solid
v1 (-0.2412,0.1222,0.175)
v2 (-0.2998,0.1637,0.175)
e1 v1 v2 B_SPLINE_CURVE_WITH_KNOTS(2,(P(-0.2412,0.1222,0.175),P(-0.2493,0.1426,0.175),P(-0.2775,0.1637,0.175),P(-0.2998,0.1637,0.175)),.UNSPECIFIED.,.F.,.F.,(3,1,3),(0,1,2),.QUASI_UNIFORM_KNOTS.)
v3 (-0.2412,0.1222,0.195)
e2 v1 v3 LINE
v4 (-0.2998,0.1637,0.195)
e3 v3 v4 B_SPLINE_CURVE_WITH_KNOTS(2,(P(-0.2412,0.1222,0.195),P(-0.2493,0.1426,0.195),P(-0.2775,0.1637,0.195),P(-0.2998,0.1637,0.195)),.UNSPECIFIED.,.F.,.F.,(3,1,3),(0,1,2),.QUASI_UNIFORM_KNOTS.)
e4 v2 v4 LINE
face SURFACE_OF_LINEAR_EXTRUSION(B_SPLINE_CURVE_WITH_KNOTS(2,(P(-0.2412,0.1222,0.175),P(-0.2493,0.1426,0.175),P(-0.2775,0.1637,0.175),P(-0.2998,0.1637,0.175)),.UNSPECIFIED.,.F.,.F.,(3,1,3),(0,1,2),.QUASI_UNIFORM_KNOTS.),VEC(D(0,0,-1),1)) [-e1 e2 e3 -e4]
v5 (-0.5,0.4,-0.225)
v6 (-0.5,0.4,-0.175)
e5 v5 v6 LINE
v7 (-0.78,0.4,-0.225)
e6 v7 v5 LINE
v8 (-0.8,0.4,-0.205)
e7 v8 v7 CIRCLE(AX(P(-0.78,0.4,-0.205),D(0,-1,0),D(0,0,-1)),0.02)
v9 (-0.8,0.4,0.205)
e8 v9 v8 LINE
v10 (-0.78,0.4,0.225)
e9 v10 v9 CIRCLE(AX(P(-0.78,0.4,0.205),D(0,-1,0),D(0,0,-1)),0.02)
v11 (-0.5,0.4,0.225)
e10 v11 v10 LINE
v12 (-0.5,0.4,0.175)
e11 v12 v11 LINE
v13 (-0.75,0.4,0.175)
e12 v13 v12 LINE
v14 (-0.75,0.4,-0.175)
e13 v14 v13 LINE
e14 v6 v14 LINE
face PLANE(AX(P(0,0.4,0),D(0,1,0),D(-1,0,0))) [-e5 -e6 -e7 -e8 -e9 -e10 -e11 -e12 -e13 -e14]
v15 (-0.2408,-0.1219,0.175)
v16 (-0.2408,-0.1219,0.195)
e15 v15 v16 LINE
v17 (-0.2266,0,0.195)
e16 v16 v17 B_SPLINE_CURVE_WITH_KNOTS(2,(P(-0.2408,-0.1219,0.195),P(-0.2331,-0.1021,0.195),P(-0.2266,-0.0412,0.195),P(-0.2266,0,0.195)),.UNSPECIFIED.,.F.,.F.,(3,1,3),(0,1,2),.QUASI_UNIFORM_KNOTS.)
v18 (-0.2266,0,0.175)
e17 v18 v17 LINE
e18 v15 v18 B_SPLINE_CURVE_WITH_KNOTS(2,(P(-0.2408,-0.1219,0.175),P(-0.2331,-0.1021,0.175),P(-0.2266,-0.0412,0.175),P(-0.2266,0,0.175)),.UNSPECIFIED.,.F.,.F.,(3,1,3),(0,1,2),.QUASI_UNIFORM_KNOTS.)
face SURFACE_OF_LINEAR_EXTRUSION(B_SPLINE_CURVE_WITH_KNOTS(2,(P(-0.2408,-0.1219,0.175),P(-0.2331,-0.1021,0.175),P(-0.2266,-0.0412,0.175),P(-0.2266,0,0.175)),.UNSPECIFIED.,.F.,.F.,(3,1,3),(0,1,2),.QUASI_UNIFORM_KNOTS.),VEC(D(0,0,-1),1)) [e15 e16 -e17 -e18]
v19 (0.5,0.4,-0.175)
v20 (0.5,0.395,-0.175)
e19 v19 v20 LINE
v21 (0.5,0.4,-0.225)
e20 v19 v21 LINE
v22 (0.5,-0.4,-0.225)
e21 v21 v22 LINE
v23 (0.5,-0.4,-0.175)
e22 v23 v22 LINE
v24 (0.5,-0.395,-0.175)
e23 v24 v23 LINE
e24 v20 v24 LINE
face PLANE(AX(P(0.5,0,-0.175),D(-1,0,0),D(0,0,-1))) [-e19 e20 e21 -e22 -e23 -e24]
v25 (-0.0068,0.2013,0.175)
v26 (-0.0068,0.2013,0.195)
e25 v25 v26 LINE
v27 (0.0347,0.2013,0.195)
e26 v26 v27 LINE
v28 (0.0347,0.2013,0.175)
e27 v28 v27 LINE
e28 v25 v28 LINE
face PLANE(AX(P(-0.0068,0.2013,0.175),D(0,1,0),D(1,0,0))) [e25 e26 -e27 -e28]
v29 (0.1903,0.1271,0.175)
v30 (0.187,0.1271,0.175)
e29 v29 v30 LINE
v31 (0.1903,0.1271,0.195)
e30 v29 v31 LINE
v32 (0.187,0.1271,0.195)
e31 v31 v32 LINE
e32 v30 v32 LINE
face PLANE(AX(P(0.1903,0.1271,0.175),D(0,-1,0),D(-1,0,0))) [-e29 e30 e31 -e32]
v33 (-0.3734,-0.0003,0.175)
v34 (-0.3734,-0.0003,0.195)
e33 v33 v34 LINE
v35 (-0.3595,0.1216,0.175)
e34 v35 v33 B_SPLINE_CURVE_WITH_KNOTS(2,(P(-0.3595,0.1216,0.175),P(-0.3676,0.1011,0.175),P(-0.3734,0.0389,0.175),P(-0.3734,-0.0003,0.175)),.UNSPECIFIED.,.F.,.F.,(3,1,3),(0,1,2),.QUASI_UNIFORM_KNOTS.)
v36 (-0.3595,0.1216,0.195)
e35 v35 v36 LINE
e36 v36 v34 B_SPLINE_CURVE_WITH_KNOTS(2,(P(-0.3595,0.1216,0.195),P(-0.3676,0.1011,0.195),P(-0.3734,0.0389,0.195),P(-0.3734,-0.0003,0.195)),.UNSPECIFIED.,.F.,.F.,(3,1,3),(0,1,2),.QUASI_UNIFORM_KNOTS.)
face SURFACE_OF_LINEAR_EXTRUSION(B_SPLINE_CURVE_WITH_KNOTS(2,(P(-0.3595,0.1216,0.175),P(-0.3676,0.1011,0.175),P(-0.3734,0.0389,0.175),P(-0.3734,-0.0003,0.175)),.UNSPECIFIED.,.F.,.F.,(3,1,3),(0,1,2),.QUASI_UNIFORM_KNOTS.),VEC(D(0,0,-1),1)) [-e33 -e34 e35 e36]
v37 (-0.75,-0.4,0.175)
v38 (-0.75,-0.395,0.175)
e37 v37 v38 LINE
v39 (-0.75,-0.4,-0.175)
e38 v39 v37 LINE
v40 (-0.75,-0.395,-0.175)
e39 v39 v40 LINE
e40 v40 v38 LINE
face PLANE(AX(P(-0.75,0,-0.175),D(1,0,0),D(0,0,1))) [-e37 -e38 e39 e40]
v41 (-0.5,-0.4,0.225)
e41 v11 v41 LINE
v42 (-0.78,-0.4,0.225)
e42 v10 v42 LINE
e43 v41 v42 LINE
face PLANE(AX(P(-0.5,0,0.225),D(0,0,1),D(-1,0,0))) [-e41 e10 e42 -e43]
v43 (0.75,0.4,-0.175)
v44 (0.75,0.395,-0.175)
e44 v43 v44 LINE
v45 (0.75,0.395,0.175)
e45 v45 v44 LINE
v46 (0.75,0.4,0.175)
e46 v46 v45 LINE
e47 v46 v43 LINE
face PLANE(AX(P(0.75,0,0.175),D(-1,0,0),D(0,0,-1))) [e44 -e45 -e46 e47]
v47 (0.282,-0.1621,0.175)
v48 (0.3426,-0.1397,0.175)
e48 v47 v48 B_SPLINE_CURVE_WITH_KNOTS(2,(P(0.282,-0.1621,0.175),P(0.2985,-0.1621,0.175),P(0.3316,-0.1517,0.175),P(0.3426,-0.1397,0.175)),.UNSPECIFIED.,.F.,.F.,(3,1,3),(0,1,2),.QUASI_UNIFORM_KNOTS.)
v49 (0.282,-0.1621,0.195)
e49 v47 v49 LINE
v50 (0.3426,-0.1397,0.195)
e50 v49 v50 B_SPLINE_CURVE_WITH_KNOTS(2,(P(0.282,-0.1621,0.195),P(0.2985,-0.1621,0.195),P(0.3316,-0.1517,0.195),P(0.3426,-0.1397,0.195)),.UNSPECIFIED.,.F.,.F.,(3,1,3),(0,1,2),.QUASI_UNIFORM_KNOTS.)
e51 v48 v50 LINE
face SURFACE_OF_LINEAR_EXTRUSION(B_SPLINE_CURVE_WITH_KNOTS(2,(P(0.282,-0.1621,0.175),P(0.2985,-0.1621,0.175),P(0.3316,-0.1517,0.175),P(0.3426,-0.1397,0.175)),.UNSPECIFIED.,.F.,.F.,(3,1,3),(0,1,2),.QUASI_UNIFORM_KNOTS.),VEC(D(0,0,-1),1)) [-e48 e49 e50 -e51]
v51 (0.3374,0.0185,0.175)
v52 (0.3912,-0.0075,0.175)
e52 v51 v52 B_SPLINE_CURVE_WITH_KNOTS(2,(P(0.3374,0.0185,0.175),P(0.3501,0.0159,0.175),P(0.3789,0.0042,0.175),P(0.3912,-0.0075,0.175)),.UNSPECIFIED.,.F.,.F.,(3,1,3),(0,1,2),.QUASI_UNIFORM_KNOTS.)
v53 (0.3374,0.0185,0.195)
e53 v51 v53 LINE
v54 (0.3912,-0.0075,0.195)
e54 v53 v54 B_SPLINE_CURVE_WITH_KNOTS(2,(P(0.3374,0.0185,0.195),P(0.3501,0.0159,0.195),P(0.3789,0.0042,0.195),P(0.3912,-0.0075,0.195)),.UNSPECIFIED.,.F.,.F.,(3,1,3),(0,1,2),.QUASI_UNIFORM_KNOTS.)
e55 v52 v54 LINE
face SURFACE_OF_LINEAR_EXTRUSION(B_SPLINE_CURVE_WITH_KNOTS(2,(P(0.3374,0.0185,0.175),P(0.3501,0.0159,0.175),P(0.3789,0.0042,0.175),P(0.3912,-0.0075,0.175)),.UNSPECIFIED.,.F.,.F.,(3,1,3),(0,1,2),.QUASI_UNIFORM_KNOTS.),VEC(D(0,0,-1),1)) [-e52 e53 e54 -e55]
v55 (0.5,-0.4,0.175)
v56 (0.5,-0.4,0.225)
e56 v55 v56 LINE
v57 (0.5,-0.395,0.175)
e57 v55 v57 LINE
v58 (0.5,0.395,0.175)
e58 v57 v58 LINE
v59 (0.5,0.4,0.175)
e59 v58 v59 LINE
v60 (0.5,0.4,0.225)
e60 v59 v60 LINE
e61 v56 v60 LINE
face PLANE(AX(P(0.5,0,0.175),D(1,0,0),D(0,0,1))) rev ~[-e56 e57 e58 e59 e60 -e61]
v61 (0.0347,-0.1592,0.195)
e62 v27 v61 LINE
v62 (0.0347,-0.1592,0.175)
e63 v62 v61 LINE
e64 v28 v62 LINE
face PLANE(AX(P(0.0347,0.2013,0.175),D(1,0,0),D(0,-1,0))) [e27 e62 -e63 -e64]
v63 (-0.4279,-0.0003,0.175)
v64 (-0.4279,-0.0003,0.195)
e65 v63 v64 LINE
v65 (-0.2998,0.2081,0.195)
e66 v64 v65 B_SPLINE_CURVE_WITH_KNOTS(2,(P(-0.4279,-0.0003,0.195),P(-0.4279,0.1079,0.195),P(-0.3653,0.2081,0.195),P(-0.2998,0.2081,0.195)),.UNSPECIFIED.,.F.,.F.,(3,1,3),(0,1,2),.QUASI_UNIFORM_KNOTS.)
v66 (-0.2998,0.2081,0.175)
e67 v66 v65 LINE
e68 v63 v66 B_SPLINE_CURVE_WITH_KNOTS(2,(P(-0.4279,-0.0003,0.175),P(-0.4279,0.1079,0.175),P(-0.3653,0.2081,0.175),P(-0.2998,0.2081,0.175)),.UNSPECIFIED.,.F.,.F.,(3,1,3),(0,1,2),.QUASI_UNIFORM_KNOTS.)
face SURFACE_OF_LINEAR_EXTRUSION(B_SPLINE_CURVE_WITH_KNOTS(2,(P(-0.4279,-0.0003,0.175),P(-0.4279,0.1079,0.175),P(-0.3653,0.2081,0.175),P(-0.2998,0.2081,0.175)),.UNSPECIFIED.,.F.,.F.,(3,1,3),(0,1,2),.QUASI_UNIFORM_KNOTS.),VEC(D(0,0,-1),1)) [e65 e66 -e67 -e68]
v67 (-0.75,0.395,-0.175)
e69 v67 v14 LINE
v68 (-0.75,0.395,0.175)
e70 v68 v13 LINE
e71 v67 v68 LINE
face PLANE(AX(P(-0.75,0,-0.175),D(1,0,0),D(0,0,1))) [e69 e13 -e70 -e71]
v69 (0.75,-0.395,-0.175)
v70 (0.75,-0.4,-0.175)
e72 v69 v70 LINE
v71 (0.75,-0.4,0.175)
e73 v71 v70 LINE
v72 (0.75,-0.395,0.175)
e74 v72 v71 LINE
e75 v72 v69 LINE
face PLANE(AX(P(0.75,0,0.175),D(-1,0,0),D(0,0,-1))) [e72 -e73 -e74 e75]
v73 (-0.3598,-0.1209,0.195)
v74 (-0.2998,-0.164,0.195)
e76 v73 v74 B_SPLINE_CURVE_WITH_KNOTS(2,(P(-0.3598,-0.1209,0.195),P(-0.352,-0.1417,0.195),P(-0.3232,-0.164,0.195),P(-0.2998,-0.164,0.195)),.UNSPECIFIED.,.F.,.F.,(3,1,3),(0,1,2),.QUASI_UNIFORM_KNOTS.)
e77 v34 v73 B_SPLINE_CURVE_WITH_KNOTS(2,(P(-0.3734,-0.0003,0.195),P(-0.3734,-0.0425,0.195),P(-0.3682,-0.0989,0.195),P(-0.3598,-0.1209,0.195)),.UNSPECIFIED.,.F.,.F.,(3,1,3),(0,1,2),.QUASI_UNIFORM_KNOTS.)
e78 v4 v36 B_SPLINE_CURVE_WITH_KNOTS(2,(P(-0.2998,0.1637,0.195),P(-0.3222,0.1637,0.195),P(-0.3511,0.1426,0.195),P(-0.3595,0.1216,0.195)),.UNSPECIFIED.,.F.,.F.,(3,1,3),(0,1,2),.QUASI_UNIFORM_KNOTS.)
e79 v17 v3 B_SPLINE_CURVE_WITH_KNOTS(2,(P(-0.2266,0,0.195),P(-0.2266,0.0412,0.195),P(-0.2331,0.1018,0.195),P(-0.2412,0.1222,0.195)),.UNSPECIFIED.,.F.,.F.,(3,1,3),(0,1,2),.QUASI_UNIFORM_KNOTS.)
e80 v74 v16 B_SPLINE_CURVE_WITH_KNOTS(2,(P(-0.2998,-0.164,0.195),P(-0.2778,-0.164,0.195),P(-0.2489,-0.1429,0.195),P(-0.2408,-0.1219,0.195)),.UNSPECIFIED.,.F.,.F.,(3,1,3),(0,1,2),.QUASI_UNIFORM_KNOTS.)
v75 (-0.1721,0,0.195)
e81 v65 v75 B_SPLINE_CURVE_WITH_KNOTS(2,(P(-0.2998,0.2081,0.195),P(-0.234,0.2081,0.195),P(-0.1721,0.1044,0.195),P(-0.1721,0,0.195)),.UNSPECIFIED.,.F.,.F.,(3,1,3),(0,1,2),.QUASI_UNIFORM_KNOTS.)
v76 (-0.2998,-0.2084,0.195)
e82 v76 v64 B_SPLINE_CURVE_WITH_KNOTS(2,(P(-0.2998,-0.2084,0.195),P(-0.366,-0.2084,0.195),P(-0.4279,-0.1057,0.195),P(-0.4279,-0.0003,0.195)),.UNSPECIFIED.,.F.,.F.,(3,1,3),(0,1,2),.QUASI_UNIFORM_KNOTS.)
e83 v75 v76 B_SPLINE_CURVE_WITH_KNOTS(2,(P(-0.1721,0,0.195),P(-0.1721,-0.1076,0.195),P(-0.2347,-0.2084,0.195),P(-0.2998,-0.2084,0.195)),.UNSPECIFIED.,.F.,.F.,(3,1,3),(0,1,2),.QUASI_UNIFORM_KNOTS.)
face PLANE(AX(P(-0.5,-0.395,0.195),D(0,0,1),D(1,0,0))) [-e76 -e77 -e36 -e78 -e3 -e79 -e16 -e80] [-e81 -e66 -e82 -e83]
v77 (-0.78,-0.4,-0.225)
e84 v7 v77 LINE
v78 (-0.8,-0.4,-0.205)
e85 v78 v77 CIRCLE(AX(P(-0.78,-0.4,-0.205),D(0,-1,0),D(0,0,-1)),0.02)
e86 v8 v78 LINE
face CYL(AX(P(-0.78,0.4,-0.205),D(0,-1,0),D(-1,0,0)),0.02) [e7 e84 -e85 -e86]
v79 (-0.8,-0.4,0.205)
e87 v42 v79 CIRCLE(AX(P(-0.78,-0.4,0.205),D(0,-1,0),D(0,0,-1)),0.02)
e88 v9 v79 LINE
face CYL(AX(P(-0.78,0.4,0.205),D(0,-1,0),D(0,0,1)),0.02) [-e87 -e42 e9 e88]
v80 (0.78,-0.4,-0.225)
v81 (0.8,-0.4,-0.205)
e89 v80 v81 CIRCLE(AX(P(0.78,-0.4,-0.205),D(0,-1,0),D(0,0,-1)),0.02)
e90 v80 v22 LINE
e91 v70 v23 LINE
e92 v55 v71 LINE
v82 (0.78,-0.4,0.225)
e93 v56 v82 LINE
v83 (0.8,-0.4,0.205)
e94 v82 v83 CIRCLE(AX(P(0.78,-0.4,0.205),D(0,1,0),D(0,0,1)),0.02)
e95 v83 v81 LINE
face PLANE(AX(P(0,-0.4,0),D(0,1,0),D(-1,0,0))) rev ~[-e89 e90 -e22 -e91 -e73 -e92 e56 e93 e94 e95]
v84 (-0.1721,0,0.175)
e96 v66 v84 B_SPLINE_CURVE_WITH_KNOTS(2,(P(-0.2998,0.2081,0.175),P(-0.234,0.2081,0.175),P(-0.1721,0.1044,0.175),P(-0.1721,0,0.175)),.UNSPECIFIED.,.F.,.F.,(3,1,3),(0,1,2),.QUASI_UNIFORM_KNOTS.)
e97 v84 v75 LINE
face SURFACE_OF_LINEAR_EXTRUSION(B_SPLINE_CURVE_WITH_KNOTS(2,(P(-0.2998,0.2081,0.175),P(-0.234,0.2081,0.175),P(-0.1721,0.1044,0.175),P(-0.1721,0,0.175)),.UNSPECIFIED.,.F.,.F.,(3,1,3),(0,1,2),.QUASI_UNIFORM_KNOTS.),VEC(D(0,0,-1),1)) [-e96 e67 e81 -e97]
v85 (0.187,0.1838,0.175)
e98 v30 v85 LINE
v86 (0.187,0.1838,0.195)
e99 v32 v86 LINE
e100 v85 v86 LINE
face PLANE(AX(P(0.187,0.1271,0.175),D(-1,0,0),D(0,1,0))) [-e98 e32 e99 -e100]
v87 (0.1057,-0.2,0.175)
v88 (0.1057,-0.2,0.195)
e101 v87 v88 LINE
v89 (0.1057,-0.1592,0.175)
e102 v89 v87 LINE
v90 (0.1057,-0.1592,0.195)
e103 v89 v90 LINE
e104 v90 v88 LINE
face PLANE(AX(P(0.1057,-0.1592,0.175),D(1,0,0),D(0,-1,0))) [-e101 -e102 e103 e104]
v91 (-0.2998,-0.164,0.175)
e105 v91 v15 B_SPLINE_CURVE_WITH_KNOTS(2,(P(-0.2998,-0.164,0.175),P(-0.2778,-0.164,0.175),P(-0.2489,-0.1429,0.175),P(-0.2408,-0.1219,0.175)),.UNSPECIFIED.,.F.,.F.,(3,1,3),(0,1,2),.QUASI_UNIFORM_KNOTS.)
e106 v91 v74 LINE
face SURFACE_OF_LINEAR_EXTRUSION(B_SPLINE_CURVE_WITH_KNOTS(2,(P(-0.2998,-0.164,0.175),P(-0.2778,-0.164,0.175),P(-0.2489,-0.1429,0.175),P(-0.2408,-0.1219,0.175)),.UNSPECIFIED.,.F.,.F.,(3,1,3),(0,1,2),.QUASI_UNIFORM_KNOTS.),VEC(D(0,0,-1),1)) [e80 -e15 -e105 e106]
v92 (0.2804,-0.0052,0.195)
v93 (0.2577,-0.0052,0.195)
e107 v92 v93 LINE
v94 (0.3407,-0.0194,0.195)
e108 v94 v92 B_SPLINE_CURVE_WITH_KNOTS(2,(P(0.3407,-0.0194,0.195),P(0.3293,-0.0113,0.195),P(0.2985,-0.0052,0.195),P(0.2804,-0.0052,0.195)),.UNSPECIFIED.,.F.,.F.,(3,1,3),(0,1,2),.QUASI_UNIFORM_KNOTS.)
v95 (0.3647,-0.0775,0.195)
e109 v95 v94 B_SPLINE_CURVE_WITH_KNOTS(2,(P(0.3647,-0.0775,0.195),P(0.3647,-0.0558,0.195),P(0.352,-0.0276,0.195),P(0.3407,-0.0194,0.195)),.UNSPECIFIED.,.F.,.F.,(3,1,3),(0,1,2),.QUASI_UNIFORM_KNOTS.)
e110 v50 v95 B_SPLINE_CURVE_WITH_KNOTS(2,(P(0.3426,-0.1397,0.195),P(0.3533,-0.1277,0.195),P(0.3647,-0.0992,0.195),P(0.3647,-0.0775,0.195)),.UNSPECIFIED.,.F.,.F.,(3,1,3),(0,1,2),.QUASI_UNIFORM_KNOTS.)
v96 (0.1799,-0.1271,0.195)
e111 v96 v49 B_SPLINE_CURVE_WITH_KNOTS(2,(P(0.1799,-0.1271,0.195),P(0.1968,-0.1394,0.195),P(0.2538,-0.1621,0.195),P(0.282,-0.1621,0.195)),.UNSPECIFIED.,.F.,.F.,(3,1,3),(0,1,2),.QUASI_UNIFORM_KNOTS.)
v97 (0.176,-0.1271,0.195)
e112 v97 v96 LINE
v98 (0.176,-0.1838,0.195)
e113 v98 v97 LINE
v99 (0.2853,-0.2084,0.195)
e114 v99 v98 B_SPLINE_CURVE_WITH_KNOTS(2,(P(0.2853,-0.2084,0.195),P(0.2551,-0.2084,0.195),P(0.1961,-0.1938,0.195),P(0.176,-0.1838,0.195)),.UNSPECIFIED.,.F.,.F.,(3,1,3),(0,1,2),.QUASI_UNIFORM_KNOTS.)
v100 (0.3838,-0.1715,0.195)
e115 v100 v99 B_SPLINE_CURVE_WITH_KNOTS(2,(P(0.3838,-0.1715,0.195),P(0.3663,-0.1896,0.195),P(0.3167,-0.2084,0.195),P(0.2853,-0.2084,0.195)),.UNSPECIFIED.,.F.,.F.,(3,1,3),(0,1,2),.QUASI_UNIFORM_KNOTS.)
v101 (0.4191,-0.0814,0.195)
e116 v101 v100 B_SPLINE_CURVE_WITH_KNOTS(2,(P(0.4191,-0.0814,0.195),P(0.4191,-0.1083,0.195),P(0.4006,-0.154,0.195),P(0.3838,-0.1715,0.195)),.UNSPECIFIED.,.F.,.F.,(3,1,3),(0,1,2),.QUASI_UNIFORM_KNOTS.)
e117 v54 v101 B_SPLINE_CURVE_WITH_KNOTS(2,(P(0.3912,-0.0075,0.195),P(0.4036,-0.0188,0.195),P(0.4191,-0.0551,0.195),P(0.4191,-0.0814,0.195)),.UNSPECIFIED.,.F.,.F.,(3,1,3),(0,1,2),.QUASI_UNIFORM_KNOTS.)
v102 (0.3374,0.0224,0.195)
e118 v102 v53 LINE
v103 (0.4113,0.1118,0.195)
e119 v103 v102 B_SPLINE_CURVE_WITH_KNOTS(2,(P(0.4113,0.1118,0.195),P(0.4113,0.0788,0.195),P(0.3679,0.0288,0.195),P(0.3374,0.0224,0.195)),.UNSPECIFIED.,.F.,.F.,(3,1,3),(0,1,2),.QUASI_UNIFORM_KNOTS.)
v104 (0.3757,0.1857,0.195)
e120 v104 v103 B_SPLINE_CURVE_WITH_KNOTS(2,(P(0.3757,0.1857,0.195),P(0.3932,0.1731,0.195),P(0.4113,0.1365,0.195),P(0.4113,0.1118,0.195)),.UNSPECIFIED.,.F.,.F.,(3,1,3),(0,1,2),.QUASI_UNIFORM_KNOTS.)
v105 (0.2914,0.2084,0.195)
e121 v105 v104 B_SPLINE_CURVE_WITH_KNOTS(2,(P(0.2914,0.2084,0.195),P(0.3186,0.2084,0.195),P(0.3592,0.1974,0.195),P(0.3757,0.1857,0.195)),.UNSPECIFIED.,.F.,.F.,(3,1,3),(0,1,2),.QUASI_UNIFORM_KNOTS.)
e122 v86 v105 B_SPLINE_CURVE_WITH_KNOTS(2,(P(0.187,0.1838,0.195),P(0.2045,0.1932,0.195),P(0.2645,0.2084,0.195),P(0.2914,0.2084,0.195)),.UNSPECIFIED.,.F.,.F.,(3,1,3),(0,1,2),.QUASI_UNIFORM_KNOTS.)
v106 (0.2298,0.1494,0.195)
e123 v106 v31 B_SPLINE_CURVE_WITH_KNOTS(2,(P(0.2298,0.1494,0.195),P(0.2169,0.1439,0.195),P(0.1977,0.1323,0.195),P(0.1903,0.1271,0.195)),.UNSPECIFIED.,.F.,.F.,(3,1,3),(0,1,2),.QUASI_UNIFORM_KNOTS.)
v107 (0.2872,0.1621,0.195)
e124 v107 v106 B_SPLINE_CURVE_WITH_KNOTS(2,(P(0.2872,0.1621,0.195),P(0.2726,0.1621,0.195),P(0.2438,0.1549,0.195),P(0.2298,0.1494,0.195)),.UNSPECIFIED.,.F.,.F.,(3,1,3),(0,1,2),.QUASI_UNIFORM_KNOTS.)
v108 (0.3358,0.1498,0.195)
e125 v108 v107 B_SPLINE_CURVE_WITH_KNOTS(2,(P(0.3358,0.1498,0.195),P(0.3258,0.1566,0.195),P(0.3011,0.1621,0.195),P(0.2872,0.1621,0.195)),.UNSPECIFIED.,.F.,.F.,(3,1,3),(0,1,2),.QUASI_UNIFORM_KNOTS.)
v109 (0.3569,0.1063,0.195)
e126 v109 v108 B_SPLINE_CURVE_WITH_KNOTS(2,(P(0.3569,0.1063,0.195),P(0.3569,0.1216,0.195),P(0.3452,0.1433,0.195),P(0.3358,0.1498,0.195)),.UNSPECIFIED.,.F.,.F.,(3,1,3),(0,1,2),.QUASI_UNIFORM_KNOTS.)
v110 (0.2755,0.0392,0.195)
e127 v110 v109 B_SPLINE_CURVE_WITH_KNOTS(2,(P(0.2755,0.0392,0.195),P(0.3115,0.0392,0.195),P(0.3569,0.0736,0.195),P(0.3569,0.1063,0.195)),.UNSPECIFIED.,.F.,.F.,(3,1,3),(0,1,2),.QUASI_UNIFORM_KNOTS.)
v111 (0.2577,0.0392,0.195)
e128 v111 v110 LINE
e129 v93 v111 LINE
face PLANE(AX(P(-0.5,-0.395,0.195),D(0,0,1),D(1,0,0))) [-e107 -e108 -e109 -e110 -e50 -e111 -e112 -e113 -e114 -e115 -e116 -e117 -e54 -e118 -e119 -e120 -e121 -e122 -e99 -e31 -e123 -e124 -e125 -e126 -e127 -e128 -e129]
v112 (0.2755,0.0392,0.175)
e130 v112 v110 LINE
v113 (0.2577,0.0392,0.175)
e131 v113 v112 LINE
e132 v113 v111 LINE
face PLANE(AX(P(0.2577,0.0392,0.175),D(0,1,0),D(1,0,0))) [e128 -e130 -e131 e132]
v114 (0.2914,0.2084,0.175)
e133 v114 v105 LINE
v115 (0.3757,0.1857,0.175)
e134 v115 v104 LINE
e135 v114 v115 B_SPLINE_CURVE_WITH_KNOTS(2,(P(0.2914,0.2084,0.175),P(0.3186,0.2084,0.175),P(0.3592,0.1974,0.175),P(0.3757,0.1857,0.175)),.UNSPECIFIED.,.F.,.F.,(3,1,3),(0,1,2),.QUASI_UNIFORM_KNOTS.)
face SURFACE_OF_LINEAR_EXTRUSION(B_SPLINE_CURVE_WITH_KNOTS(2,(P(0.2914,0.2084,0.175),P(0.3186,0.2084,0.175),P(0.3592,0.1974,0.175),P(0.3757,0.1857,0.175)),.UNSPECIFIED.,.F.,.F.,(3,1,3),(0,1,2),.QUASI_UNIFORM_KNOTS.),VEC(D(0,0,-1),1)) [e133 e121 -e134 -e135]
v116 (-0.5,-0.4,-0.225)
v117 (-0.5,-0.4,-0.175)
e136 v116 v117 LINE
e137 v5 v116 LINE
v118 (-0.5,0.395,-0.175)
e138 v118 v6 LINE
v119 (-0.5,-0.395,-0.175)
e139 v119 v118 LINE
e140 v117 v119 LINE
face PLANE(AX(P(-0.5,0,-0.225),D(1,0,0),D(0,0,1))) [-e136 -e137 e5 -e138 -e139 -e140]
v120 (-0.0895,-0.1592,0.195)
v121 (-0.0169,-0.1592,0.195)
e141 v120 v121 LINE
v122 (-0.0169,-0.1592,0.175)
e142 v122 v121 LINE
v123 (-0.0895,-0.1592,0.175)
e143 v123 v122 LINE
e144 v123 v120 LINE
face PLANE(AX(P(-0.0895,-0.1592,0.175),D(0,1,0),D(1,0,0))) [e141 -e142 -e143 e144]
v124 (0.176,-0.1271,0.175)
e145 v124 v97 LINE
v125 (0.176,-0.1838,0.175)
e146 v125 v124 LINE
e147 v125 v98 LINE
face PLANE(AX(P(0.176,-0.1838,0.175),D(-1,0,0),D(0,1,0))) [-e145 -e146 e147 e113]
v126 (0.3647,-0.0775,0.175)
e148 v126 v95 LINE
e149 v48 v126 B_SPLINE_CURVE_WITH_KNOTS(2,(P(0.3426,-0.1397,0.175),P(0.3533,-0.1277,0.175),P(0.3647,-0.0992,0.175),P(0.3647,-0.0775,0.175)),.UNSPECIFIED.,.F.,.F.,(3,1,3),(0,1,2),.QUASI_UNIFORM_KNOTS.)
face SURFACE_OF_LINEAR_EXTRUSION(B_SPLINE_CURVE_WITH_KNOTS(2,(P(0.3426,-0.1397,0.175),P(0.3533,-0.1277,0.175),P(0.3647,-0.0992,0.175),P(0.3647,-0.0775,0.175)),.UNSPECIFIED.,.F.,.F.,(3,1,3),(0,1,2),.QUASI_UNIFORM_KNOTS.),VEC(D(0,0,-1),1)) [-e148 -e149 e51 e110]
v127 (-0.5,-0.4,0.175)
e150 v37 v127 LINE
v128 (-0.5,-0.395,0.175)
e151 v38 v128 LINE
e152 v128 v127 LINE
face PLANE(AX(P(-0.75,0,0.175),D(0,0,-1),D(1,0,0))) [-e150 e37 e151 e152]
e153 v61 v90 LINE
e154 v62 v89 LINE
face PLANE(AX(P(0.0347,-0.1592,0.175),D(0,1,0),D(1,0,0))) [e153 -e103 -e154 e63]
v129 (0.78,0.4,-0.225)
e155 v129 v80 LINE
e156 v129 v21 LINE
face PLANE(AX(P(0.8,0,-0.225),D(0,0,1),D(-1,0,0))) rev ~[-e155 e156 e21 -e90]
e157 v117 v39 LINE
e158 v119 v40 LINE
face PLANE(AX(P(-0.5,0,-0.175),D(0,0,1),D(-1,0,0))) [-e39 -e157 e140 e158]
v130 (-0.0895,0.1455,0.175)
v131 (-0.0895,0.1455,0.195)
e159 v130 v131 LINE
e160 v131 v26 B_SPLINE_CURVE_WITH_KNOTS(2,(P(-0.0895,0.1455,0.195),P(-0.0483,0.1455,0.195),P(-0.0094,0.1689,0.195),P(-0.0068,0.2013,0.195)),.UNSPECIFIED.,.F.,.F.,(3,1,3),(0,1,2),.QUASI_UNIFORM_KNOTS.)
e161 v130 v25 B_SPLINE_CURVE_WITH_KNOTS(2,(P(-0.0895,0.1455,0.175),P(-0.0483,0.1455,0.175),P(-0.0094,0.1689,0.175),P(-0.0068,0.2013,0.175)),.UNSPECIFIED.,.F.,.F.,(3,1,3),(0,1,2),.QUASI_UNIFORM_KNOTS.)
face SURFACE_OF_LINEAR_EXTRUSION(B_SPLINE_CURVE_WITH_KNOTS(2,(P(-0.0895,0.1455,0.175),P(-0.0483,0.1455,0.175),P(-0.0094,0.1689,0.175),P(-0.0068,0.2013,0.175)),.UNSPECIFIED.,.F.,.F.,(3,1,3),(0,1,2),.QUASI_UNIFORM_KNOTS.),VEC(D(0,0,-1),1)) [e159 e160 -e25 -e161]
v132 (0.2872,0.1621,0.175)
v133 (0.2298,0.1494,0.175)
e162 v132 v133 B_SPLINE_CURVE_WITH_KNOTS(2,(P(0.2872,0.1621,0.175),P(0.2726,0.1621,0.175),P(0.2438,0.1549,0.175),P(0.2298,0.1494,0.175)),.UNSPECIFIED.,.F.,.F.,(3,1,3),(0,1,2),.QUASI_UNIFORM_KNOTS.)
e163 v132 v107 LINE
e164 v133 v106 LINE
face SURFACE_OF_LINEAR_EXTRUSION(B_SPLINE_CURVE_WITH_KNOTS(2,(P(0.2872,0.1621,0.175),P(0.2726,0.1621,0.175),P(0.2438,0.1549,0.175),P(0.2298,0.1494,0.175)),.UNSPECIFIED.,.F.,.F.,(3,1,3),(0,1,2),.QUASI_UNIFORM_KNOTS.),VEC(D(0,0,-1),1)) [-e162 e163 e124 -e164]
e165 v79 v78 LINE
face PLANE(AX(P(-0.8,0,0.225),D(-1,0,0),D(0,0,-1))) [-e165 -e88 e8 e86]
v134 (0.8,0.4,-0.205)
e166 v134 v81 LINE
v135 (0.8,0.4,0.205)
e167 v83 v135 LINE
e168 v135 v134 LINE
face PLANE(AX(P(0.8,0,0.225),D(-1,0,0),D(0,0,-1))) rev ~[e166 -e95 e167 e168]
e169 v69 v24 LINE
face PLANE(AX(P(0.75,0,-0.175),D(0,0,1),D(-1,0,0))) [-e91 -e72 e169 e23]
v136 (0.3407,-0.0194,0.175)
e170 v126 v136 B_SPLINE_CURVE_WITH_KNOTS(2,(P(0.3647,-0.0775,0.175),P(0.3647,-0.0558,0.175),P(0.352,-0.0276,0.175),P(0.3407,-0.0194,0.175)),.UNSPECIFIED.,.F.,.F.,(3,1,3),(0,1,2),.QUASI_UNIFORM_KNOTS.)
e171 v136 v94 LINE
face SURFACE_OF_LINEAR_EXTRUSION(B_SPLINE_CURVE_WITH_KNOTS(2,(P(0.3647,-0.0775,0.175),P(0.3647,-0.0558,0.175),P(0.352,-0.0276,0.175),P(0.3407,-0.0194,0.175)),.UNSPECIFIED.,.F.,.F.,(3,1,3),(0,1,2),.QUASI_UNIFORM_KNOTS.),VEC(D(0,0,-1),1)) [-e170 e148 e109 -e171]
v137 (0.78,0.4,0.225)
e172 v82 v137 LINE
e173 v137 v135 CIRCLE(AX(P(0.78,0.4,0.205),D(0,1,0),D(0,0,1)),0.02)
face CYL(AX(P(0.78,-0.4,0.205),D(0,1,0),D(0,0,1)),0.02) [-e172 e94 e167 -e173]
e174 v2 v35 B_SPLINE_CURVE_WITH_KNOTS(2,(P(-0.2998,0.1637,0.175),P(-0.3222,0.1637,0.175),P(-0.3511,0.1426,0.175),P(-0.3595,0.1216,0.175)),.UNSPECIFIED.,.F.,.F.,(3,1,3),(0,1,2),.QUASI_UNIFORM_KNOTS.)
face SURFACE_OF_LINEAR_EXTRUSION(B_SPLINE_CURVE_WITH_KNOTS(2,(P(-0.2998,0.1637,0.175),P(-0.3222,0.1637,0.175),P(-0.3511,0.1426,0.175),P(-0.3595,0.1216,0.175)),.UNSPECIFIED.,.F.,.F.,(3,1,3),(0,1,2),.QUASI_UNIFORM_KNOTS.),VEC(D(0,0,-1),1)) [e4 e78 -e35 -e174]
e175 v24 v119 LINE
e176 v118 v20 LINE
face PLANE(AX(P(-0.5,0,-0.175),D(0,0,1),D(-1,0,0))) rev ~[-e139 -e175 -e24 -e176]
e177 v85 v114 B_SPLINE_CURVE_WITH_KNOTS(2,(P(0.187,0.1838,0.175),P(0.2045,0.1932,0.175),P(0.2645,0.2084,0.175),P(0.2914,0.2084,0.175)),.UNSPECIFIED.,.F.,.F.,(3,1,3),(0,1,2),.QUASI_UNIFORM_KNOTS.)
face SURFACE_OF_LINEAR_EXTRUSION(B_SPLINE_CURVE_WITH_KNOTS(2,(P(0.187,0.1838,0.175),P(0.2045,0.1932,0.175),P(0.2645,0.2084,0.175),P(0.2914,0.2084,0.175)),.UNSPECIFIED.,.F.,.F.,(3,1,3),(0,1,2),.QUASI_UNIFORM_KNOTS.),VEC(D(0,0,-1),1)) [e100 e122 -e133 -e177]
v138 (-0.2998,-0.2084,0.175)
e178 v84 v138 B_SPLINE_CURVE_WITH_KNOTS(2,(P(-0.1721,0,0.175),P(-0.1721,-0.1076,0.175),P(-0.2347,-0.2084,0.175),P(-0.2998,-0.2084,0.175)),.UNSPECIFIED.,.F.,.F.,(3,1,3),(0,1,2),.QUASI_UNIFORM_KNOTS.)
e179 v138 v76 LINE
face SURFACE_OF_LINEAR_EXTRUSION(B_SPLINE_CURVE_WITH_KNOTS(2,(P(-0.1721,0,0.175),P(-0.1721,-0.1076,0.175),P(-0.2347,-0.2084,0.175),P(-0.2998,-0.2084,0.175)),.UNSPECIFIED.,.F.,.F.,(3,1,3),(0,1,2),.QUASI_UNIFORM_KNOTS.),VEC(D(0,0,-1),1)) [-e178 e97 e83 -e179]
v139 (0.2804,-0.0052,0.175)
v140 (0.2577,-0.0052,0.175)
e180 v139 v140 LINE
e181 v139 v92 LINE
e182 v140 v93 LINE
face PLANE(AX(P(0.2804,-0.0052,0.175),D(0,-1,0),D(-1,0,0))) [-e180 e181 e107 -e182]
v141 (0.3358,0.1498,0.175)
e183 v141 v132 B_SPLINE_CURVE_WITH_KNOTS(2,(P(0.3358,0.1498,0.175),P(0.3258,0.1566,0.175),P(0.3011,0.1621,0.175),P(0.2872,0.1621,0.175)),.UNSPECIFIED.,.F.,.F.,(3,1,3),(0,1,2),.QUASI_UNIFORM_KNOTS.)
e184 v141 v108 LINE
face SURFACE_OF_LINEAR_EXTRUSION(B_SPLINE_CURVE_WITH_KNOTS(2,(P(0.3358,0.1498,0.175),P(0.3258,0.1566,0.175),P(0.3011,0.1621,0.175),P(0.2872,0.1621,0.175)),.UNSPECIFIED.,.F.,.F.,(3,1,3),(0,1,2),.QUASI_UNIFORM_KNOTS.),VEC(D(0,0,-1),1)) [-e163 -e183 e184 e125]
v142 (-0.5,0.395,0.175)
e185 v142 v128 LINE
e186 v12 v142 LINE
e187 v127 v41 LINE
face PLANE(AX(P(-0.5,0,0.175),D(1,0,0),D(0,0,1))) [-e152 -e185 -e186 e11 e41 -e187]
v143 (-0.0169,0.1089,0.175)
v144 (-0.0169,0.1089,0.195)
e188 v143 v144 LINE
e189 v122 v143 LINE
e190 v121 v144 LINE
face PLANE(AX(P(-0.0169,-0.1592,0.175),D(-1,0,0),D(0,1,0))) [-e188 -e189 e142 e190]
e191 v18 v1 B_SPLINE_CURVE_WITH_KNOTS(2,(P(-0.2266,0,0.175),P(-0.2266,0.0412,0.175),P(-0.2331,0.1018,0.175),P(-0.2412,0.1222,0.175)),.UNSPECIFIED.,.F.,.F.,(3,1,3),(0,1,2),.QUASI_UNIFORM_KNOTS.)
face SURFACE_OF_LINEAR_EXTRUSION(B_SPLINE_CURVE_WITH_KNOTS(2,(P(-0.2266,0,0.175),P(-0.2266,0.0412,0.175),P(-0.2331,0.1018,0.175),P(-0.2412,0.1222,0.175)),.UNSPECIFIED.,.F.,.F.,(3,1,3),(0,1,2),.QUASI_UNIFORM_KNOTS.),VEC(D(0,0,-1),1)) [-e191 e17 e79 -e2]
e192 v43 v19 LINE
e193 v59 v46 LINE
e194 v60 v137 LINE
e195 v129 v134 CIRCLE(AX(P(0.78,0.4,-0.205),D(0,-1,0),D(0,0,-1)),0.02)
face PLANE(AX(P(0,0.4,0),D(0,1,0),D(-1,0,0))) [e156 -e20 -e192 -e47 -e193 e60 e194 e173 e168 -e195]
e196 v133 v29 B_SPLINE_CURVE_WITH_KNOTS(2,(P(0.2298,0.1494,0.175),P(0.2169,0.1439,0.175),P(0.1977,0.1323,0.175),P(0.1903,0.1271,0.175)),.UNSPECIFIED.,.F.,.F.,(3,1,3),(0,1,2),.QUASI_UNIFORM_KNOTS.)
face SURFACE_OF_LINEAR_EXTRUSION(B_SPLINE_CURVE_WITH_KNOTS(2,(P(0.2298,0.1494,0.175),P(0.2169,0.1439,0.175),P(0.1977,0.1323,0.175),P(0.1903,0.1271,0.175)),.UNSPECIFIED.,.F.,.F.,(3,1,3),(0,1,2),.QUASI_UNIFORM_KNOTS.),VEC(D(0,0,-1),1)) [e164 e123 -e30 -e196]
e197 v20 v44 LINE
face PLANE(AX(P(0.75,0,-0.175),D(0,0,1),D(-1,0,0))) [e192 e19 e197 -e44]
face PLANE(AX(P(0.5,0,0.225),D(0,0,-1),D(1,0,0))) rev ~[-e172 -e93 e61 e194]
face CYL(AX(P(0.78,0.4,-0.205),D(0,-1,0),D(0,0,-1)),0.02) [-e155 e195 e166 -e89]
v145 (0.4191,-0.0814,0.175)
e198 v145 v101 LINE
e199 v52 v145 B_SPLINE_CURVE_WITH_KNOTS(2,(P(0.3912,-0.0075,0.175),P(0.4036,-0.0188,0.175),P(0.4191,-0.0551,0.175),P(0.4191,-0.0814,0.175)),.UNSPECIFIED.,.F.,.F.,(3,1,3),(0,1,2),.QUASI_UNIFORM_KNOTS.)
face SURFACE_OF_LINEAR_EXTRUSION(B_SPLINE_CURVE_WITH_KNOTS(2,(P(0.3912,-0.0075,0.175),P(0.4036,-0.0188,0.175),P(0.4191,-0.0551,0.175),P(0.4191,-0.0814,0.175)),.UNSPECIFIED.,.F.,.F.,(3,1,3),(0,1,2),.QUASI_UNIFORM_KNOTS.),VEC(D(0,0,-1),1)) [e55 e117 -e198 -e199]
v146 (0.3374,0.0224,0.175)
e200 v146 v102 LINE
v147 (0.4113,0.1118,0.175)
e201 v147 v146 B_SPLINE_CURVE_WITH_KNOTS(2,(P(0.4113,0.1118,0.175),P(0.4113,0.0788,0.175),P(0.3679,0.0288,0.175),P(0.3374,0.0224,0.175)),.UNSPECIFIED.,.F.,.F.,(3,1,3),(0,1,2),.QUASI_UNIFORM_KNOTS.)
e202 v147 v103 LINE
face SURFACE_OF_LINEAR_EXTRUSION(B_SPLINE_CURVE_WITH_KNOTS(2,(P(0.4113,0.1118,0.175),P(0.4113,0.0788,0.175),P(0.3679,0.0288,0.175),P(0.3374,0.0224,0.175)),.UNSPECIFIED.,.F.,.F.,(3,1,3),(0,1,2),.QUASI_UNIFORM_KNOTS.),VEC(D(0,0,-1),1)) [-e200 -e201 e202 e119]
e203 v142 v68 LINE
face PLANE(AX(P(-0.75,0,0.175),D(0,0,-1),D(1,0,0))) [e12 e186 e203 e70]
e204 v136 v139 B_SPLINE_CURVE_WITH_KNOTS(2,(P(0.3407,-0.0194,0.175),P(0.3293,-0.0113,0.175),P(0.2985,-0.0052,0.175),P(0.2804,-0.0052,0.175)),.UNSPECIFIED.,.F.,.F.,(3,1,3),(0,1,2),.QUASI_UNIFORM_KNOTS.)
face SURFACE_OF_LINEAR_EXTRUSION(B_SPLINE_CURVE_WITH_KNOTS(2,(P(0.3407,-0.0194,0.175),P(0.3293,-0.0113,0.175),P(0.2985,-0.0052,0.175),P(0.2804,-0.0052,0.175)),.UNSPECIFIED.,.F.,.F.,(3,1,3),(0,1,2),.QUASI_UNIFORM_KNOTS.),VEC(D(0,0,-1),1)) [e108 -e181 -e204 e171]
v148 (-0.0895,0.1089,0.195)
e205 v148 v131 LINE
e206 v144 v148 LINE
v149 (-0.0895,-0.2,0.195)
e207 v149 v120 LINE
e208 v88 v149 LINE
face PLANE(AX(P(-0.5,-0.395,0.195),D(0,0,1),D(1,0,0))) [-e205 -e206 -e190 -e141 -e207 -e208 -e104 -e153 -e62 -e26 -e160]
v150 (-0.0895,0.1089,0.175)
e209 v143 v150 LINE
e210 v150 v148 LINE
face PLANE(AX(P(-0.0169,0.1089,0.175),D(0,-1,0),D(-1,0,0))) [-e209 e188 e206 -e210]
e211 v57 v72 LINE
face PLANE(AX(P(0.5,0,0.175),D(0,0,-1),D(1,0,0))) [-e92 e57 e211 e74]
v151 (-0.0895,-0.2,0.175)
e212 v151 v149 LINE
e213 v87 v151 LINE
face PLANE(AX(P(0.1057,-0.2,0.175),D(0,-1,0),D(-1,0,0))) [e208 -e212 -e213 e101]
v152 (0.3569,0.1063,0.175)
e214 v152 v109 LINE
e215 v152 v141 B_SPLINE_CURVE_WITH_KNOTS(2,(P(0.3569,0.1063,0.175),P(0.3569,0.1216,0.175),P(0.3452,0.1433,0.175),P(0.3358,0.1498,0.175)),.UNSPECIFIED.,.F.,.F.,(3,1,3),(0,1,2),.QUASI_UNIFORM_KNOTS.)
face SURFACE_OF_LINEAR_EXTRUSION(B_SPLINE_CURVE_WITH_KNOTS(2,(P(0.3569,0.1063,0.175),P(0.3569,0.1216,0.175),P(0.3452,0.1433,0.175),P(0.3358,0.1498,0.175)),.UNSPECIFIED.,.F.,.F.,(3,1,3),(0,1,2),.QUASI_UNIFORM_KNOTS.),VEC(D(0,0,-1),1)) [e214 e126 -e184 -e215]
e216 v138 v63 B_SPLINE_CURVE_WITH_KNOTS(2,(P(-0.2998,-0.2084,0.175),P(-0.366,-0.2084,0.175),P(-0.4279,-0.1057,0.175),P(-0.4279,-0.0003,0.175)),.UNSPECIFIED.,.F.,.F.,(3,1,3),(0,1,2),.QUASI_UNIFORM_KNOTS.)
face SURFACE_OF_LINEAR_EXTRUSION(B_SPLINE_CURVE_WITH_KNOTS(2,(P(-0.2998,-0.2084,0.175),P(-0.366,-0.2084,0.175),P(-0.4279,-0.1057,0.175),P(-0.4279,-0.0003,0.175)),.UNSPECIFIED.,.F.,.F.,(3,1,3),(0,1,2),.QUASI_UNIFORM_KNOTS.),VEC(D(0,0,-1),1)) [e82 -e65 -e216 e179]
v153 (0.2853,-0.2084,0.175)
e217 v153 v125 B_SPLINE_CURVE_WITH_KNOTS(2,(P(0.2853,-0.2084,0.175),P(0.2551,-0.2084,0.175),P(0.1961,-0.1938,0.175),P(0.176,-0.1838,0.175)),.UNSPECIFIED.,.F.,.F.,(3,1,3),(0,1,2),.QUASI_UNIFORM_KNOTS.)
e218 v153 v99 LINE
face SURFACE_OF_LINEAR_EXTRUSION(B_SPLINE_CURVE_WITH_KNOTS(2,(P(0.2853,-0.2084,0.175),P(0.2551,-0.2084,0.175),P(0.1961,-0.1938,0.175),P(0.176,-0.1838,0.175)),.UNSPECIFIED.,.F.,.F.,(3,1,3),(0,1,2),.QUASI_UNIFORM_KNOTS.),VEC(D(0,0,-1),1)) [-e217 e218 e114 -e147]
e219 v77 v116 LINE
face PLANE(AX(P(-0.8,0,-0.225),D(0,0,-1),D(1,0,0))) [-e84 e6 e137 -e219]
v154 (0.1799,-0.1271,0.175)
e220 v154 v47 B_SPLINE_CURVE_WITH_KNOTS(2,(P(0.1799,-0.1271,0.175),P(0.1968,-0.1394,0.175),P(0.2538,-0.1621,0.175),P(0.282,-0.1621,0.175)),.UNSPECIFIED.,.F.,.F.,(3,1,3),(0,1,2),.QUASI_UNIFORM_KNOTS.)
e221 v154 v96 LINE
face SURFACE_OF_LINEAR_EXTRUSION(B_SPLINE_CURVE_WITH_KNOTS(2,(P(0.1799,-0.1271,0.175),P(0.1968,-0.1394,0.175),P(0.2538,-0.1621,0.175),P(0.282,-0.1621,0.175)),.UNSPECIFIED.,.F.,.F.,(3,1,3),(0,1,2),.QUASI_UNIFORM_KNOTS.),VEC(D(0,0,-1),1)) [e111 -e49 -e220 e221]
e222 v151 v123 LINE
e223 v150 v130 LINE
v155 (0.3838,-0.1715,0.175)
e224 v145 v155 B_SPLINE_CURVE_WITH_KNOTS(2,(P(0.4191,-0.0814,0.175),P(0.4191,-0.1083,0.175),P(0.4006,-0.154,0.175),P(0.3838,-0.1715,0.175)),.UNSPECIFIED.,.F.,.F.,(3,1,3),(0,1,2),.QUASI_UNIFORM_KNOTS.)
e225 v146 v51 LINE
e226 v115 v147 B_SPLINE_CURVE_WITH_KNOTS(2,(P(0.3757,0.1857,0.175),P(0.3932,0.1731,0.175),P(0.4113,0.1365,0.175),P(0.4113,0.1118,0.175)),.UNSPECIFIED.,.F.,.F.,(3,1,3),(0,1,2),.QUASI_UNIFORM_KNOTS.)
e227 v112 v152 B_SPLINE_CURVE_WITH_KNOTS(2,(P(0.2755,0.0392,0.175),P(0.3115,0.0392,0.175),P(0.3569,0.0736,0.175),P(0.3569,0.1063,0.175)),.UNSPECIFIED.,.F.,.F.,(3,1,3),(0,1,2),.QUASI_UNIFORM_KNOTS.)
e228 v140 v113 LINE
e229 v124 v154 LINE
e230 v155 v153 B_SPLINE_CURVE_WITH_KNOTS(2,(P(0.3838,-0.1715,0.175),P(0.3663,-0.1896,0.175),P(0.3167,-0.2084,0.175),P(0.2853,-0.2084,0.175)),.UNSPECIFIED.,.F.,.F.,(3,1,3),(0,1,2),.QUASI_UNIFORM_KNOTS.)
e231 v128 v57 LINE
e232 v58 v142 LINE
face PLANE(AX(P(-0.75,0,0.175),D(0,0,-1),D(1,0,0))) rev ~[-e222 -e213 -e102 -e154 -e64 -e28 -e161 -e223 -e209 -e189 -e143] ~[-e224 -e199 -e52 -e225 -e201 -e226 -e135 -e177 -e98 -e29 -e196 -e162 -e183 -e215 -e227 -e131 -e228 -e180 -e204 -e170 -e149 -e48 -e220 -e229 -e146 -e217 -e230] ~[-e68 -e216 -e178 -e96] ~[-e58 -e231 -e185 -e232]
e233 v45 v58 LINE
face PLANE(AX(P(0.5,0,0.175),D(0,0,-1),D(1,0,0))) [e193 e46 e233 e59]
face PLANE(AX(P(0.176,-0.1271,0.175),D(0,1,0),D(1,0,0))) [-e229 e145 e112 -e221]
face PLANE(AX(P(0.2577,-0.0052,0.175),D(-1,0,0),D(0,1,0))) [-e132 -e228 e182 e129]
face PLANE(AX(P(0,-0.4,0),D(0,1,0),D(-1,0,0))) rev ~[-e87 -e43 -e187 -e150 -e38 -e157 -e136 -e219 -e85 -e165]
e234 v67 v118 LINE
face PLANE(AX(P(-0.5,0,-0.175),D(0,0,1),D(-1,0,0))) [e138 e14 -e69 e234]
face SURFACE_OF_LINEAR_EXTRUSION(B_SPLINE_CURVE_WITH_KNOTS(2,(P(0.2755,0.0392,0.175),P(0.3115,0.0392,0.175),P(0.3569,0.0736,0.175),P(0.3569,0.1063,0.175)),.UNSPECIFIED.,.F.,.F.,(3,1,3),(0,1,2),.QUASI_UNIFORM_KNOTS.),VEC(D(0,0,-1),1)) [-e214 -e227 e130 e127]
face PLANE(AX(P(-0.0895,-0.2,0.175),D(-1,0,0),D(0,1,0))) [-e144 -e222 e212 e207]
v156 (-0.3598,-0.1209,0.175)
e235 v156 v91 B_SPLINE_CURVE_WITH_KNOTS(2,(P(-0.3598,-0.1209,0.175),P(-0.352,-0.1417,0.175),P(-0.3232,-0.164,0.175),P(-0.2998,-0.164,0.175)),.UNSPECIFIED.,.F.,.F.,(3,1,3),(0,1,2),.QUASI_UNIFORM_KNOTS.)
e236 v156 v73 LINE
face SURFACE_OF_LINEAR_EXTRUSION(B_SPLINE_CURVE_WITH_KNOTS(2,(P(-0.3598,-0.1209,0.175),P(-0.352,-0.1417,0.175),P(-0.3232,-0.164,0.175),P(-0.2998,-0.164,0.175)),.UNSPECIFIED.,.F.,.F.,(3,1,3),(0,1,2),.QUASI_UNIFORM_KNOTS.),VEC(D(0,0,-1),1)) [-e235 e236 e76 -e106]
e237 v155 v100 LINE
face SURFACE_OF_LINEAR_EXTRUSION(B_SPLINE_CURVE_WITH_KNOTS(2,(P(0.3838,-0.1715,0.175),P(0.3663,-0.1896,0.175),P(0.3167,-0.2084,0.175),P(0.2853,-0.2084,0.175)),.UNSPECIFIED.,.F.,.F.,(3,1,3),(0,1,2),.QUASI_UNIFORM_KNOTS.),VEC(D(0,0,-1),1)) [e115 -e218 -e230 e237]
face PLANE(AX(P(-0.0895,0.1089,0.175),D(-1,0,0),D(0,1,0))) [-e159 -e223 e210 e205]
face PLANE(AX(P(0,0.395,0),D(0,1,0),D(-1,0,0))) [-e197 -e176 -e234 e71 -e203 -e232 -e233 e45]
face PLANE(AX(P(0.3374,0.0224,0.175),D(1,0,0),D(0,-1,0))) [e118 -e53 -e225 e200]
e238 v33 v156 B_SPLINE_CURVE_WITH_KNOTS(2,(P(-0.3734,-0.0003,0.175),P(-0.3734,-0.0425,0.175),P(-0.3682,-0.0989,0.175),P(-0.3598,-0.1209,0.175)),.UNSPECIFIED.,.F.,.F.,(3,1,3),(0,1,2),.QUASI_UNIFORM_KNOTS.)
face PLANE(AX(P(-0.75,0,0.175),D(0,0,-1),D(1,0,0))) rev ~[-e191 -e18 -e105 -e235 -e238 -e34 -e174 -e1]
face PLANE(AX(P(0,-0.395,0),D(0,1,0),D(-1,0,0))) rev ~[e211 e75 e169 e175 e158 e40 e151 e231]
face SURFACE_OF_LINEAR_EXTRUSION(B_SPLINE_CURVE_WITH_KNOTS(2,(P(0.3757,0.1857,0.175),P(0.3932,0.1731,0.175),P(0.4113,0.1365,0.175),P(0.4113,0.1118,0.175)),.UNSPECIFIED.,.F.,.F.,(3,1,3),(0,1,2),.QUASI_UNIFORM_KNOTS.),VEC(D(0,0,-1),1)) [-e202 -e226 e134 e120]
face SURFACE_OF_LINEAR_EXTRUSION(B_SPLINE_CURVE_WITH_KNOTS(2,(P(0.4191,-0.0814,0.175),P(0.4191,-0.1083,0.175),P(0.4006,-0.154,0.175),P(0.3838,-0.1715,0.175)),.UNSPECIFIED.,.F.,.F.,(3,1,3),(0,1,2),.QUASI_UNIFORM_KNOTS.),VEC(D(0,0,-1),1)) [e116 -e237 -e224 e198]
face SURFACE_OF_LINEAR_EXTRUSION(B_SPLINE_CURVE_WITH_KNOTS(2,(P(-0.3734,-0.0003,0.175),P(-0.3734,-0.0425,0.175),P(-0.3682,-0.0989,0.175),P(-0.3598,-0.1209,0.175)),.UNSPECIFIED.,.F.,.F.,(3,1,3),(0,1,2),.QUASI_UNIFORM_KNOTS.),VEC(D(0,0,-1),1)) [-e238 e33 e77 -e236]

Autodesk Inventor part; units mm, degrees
ref_plane "YZ Plane" through (0, 0, 0) normal (1, 0, 0) x (0, 1, 0)
ref_plane "XZ Plane" through (0, 0, 0) normal (0, 1, 0) x (-1, 0, 0)
ref_plane "XY Plane" through (0, 0, 0) normal (0, 0, 1) x (1, 0, 0)
sketch "Sketch1" plane through (0, 0, 0) normal (0, 1, 0) x (-1, 0, 0)
  line L0 (0.75, 0.175) -> (-0.75, 0.175)
  line L1 (-0.75, 0.175) -> (-0.75, -0.175)
  line L2 (-0.75, -0.175) -> (0.75, -0.175)
  line L3 (0.75, -0.175) -> (0.75, 0.175)
  line L4 (0.5, 0.175) -> (0.5, 0.225)
  line L5 (0.5, 0.225) -> (0.8, 0.225)
  line L6 (0.8, 0.225) -> (0.8, -0.225)
  line L7 (0.8, -0.225) -> (0.5, -0.225)
  line L8 (0.5, -0.225) -> (0.5, -0.175)
  line L9 (-0.5, 0.175) -> (-0.5, 0.225)
  line L10 (-0.5, 0.225) -> (-0.8, 0.225)
  line L11 (-0.8, 0.225) -> (-0.8, -0.225)
  line L12 (-0.8, -0.225) -> (-0.5, -0.225)
  line L13 (-0.5, -0.175) -> (-0.5, -0.225)
  line L14 (0.5, 0.175) -> (-0.5, 0.175)
  point P0 (0, 0)
  point P1 (0, 0.175)
  point P2 (0.75, 0)
  dimension "d0" = 1.6
  dimension "d1" = 0.05
  dimension "d2" = 0.05
  dimension "d3" = 0.45
  dimension "d4" = 0.3
extrude "Extrusion1" add sketch "Sketch1" along normal mid plane 0.8 contours L0 L4 L5 L6 L7 L8 L2 L3 | L0 L1 L2 L13 L12 L11 L10 L9
extrude "Extrusion2" add sketch "Sketch1" along normal mid plane 0.79 contours L3 L2 L1 L0
sketch "Sketch2" plane through (-0.5, -0.395, 0.175) normal (0, 0, 1) x (1, 0, 0)
  line L0 (0, 0) -> (0, 0.79) projected
  line L1 (1, 0) -> (0, 0) projected
  line L2 (1, 0) -> (1, 0.79) projected
  line L3 (0, 0.79) -> (1, 0.79) projected
  line L4 (0, 0.395) -> (1, 0.395) construction
  spline S0 degree 2 poles (0.3279, 0.395) (0.3279, 0.2874) (0.2653, 0.1866) (0.2002, 0.1866) knots 0 0 0 1 2 2 2
  spline S1 degree 2 poles (0.2002, 0.1866) (0.134, 0.1866) (0.0721, 0.2893) (0.0721, 0.3947) knots 0 0 0 1 2 2 2
  spline S2 degree 2 poles (0.0721, 0.3947) (0.0721, 0.5029) (0.1347, 0.6031) (0.2002, 0.6031) knots 0 0 0 1 2 2 2
  spline S3 degree 2 poles (0.2002, 0.6031) (0.266, 0.6031) (0.3279, 0.4994) (0.3279, 0.395) knots 0 0 0 1 2 2 2
  spline S4 degree 2 poles (0.2592, 0.2731) (0.2669, 0.2929) (0.2734, 0.3538) (0.2734, 0.395) knots 0 0 0 1 2 2 2
  spline S5 degree 2 poles (0.2734, 0.395) (0.2734, 0.4362) (0.2669, 0.4968) (0.2588, 0.5172) knots 0 0 0 1 2 2 2
  spline S6 degree 2 poles (0.2588, 0.5172) (0.2507, 0.5376) (0.2225, 0.5587) (0.2002, 0.5587) knots 0 0 0 1 2 2 2
  spline S7 degree 2 poles (0.2002, 0.5587) (0.1778, 0.5587) (0.1489, 0.5376) (0.1405, 0.5166) knots 0 0 0 1 2 2 2
  spline S8 degree 2 poles (0.1405, 0.5166) (0.1324, 0.4961) (0.1266, 0.4339) (0.1266, 0.3947) knots 0 0 0 1 2 2 2
  spline S9 degree 2 poles (0.1266, 0.3947) (0.1266, 0.3525) (0.1318, 0.2961) (0.1402, 0.2741) knots 0 0 0 1 2 2 2
  spline S10 degree 2 poles (0.1402, 0.2741) (0.148, 0.2533) (0.1768, 0.231) (0.2002, 0.231) knots 0 0 0 1 2 2 2
  spline S11 degree 2 poles (0.2002, 0.231) (0.2222, 0.231) (0.2511, 0.2521) (0.2592, 0.2731) knots 0 0 0 1 2 2 2
  line L5 (0.6057, 0.195) -> (0.4105, 0.195)
  line L6 (0.4105, 0.195) -> (0.4105, 0.2358)
  line L7 (0.4105, 0.2358) -> (0.4831, 0.2358)
  line L8 (0.4831, 0.2358) -> (0.4831, 0.5039)
  line L9 (0.4831, 0.5039) -> (0.4105, 0.5039)
  line L10 (0.4105, 0.5039) -> (0.4105, 0.5405)
  spline S12 degree 2 poles (0.4105, 0.5405) (0.4517, 0.5405) (0.4906, 0.5639) (0.4932, 0.5963) knots 0 0 0 1 2 2 2
  line L11 (0.4932, 0.5963) -> (0.5347, 0.5963)
  line L12 (0.5347, 0.5963) -> (0.5347, 0.2358)
  line L13 (0.5347, 0.2358) -> (0.6057, 0.2358)
  line L14 (0.6057, 0.2358) -> (0.6057, 0.195)
  spline S13 degree 2 poles (0.7872, 0.5571) (0.7726, 0.5571) (0.7438, 0.5499) (0.7298, 0.5444) knots 0 0 0 1 2 2 2
  spline S14 degree 2 poles (0.7298, 0.5444) (0.7169, 0.5389) (0.6977, 0.5273) (0.6903, 0.5221) knots 0 0 0 1 2 2 2
  line L15 (0.6903, 0.5221) -> (0.687, 0.5221)
  line L16 (0.687, 0.5221) -> (0.687, 0.5788)
  spline S15 degree 2 poles (0.687, 0.5788) (0.7045, 0.5882) (0.7645, 0.6034) (0.7914, 0.6034) knots 0 0 0 1 2 2 2
  spline S16 degree 2 poles (0.7914, 0.6034) (0.8186, 0.6034) (0.8592, 0.5924) (0.8757, 0.5807) knots 0 0 0 1 2 2 2
  spline S17 degree 2 poles (0.8757, 0.5807) (0.8932, 0.5681) (0.9113, 0.5315) (0.9113, 0.5068) knots 0 0 0 1 2 2 2
  spline S18 degree 2 poles (0.9113, 0.5068) (0.9113, 0.4738) (0.8679, 0.4238) (0.8374, 0.4174) knots 0 0 0 1 2 2 2
  line L17 (0.8374, 0.4174) -> (0.8374, 0.4135)
  spline S19 degree 2 poles (0.8374, 0.4135) (0.8501, 0.4109) (0.8789, 0.3992) (0.8912, 0.3875) knots 0 0 0 1 2 2 2
  spline S20 degree 2 poles (0.8912, 0.3875) (0.9036, 0.3762) (0.9191, 0.3399) (0.9191, 0.3136) knots 0 0 0 1 2 2 2
  spline S21 degree 2 poles (0.9191, 0.3136) (0.9191, 0.2867) (0.9006, 0.241) (0.8838, 0.2235) knots 0 0 0 1 2 2 2
  spline S22 degree 2 poles (0.8838, 0.2235) (0.8663, 0.2054) (0.8167, 0.1866) (0.7853, 0.1866) knots 0 0 0 1 2 2 2
  spline S23 degree 2 poles (0.7853, 0.1866) (0.7551, 0.1866) (0.6961, 0.2012) (0.676, 0.2112) knots 0 0 0 1 2 2 2
  line L18 (0.676, 0.2112) -> (0.676, 0.2679)
  line L19 (0.676, 0.2679) -> (0.6799, 0.2679)
  spline S24 degree 2 poles (0.6799, 0.2679) (0.6968, 0.2556) (0.7538, 0.2329) (0.782, 0.2329) knots 0 0 0 1 2 2 2
  spline S25 degree 2 poles (0.782, 0.2329) (0.7985, 0.2329) (0.8316, 0.2433) (0.8426, 0.2553) knots 0 0 0 1 2 2 2
  spline S26 degree 2 poles (0.8426, 0.2553) (0.8533, 0.2673) (0.8647, 0.2958) (0.8647, 0.3175) knots 0 0 0 1 2 2 2
  spline S27 degree 2 poles (0.8647, 0.3175) (0.8647, 0.3392) (0.852, 0.3674) (0.8407, 0.3756) knots 0 0 0 1 2 2 2
  spline S28 degree 2 poles (0.8407, 0.3756) (0.8293, 0.3837) (0.7985, 0.3898) (0.7804, 0.3898) knots 0 0 0 1 2 2 2
  line L20 (0.7804, 0.3898) -> (0.7577, 0.3898)
  line L21 (0.7577, 0.3898) -> (0.7577, 0.4342)
  line L22 (0.7577, 0.4342) -> (0.7755, 0.4342)
  spline S29 degree 2 poles (0.7755, 0.4342) (0.8115, 0.4342) (0.8569, 0.4686) (0.8569, 0.5013) knots 0 0 0 1 2 2 2
  spline S30 degree 2 poles (0.8569, 0.5013) (0.8569, 0.5166) (0.8452, 0.5383) (0.8358, 0.5448) knots 0 0 0 1 2 2 2
  spline S31 degree 2 poles (0.8358, 0.5448) (0.8258, 0.5516) (0.8011, 0.5571) (0.7872, 0.5571) knots 0 0 0 1 2 2 2
  point P0 (0.5, 0.395)
extrude "Extrusion3" add sketch "Sketch2" along normal blind 0.02 contours S0 S1 S2 S3 | L5 L6 L7 L8 L9 L10 S12 L11 L12 L13 L14 | S13 S14 L15 L16 S15 S16 S17 S18 L17 S19 S20 S21 S22 S23 L18 L19 S24 S25 S26 S27 S28 L20 L21 L22 S29 S30 S31
fillet "Fillet1" radius 0.02 4 edges at (-0.8, 0, 0.225) (-0.8, 0, -0.225) (0.8, 0, 0.225) (0.8, 0, -0.225)
equation "\"d2\" = d1"
properties part number "21-1001" material "Copper"
